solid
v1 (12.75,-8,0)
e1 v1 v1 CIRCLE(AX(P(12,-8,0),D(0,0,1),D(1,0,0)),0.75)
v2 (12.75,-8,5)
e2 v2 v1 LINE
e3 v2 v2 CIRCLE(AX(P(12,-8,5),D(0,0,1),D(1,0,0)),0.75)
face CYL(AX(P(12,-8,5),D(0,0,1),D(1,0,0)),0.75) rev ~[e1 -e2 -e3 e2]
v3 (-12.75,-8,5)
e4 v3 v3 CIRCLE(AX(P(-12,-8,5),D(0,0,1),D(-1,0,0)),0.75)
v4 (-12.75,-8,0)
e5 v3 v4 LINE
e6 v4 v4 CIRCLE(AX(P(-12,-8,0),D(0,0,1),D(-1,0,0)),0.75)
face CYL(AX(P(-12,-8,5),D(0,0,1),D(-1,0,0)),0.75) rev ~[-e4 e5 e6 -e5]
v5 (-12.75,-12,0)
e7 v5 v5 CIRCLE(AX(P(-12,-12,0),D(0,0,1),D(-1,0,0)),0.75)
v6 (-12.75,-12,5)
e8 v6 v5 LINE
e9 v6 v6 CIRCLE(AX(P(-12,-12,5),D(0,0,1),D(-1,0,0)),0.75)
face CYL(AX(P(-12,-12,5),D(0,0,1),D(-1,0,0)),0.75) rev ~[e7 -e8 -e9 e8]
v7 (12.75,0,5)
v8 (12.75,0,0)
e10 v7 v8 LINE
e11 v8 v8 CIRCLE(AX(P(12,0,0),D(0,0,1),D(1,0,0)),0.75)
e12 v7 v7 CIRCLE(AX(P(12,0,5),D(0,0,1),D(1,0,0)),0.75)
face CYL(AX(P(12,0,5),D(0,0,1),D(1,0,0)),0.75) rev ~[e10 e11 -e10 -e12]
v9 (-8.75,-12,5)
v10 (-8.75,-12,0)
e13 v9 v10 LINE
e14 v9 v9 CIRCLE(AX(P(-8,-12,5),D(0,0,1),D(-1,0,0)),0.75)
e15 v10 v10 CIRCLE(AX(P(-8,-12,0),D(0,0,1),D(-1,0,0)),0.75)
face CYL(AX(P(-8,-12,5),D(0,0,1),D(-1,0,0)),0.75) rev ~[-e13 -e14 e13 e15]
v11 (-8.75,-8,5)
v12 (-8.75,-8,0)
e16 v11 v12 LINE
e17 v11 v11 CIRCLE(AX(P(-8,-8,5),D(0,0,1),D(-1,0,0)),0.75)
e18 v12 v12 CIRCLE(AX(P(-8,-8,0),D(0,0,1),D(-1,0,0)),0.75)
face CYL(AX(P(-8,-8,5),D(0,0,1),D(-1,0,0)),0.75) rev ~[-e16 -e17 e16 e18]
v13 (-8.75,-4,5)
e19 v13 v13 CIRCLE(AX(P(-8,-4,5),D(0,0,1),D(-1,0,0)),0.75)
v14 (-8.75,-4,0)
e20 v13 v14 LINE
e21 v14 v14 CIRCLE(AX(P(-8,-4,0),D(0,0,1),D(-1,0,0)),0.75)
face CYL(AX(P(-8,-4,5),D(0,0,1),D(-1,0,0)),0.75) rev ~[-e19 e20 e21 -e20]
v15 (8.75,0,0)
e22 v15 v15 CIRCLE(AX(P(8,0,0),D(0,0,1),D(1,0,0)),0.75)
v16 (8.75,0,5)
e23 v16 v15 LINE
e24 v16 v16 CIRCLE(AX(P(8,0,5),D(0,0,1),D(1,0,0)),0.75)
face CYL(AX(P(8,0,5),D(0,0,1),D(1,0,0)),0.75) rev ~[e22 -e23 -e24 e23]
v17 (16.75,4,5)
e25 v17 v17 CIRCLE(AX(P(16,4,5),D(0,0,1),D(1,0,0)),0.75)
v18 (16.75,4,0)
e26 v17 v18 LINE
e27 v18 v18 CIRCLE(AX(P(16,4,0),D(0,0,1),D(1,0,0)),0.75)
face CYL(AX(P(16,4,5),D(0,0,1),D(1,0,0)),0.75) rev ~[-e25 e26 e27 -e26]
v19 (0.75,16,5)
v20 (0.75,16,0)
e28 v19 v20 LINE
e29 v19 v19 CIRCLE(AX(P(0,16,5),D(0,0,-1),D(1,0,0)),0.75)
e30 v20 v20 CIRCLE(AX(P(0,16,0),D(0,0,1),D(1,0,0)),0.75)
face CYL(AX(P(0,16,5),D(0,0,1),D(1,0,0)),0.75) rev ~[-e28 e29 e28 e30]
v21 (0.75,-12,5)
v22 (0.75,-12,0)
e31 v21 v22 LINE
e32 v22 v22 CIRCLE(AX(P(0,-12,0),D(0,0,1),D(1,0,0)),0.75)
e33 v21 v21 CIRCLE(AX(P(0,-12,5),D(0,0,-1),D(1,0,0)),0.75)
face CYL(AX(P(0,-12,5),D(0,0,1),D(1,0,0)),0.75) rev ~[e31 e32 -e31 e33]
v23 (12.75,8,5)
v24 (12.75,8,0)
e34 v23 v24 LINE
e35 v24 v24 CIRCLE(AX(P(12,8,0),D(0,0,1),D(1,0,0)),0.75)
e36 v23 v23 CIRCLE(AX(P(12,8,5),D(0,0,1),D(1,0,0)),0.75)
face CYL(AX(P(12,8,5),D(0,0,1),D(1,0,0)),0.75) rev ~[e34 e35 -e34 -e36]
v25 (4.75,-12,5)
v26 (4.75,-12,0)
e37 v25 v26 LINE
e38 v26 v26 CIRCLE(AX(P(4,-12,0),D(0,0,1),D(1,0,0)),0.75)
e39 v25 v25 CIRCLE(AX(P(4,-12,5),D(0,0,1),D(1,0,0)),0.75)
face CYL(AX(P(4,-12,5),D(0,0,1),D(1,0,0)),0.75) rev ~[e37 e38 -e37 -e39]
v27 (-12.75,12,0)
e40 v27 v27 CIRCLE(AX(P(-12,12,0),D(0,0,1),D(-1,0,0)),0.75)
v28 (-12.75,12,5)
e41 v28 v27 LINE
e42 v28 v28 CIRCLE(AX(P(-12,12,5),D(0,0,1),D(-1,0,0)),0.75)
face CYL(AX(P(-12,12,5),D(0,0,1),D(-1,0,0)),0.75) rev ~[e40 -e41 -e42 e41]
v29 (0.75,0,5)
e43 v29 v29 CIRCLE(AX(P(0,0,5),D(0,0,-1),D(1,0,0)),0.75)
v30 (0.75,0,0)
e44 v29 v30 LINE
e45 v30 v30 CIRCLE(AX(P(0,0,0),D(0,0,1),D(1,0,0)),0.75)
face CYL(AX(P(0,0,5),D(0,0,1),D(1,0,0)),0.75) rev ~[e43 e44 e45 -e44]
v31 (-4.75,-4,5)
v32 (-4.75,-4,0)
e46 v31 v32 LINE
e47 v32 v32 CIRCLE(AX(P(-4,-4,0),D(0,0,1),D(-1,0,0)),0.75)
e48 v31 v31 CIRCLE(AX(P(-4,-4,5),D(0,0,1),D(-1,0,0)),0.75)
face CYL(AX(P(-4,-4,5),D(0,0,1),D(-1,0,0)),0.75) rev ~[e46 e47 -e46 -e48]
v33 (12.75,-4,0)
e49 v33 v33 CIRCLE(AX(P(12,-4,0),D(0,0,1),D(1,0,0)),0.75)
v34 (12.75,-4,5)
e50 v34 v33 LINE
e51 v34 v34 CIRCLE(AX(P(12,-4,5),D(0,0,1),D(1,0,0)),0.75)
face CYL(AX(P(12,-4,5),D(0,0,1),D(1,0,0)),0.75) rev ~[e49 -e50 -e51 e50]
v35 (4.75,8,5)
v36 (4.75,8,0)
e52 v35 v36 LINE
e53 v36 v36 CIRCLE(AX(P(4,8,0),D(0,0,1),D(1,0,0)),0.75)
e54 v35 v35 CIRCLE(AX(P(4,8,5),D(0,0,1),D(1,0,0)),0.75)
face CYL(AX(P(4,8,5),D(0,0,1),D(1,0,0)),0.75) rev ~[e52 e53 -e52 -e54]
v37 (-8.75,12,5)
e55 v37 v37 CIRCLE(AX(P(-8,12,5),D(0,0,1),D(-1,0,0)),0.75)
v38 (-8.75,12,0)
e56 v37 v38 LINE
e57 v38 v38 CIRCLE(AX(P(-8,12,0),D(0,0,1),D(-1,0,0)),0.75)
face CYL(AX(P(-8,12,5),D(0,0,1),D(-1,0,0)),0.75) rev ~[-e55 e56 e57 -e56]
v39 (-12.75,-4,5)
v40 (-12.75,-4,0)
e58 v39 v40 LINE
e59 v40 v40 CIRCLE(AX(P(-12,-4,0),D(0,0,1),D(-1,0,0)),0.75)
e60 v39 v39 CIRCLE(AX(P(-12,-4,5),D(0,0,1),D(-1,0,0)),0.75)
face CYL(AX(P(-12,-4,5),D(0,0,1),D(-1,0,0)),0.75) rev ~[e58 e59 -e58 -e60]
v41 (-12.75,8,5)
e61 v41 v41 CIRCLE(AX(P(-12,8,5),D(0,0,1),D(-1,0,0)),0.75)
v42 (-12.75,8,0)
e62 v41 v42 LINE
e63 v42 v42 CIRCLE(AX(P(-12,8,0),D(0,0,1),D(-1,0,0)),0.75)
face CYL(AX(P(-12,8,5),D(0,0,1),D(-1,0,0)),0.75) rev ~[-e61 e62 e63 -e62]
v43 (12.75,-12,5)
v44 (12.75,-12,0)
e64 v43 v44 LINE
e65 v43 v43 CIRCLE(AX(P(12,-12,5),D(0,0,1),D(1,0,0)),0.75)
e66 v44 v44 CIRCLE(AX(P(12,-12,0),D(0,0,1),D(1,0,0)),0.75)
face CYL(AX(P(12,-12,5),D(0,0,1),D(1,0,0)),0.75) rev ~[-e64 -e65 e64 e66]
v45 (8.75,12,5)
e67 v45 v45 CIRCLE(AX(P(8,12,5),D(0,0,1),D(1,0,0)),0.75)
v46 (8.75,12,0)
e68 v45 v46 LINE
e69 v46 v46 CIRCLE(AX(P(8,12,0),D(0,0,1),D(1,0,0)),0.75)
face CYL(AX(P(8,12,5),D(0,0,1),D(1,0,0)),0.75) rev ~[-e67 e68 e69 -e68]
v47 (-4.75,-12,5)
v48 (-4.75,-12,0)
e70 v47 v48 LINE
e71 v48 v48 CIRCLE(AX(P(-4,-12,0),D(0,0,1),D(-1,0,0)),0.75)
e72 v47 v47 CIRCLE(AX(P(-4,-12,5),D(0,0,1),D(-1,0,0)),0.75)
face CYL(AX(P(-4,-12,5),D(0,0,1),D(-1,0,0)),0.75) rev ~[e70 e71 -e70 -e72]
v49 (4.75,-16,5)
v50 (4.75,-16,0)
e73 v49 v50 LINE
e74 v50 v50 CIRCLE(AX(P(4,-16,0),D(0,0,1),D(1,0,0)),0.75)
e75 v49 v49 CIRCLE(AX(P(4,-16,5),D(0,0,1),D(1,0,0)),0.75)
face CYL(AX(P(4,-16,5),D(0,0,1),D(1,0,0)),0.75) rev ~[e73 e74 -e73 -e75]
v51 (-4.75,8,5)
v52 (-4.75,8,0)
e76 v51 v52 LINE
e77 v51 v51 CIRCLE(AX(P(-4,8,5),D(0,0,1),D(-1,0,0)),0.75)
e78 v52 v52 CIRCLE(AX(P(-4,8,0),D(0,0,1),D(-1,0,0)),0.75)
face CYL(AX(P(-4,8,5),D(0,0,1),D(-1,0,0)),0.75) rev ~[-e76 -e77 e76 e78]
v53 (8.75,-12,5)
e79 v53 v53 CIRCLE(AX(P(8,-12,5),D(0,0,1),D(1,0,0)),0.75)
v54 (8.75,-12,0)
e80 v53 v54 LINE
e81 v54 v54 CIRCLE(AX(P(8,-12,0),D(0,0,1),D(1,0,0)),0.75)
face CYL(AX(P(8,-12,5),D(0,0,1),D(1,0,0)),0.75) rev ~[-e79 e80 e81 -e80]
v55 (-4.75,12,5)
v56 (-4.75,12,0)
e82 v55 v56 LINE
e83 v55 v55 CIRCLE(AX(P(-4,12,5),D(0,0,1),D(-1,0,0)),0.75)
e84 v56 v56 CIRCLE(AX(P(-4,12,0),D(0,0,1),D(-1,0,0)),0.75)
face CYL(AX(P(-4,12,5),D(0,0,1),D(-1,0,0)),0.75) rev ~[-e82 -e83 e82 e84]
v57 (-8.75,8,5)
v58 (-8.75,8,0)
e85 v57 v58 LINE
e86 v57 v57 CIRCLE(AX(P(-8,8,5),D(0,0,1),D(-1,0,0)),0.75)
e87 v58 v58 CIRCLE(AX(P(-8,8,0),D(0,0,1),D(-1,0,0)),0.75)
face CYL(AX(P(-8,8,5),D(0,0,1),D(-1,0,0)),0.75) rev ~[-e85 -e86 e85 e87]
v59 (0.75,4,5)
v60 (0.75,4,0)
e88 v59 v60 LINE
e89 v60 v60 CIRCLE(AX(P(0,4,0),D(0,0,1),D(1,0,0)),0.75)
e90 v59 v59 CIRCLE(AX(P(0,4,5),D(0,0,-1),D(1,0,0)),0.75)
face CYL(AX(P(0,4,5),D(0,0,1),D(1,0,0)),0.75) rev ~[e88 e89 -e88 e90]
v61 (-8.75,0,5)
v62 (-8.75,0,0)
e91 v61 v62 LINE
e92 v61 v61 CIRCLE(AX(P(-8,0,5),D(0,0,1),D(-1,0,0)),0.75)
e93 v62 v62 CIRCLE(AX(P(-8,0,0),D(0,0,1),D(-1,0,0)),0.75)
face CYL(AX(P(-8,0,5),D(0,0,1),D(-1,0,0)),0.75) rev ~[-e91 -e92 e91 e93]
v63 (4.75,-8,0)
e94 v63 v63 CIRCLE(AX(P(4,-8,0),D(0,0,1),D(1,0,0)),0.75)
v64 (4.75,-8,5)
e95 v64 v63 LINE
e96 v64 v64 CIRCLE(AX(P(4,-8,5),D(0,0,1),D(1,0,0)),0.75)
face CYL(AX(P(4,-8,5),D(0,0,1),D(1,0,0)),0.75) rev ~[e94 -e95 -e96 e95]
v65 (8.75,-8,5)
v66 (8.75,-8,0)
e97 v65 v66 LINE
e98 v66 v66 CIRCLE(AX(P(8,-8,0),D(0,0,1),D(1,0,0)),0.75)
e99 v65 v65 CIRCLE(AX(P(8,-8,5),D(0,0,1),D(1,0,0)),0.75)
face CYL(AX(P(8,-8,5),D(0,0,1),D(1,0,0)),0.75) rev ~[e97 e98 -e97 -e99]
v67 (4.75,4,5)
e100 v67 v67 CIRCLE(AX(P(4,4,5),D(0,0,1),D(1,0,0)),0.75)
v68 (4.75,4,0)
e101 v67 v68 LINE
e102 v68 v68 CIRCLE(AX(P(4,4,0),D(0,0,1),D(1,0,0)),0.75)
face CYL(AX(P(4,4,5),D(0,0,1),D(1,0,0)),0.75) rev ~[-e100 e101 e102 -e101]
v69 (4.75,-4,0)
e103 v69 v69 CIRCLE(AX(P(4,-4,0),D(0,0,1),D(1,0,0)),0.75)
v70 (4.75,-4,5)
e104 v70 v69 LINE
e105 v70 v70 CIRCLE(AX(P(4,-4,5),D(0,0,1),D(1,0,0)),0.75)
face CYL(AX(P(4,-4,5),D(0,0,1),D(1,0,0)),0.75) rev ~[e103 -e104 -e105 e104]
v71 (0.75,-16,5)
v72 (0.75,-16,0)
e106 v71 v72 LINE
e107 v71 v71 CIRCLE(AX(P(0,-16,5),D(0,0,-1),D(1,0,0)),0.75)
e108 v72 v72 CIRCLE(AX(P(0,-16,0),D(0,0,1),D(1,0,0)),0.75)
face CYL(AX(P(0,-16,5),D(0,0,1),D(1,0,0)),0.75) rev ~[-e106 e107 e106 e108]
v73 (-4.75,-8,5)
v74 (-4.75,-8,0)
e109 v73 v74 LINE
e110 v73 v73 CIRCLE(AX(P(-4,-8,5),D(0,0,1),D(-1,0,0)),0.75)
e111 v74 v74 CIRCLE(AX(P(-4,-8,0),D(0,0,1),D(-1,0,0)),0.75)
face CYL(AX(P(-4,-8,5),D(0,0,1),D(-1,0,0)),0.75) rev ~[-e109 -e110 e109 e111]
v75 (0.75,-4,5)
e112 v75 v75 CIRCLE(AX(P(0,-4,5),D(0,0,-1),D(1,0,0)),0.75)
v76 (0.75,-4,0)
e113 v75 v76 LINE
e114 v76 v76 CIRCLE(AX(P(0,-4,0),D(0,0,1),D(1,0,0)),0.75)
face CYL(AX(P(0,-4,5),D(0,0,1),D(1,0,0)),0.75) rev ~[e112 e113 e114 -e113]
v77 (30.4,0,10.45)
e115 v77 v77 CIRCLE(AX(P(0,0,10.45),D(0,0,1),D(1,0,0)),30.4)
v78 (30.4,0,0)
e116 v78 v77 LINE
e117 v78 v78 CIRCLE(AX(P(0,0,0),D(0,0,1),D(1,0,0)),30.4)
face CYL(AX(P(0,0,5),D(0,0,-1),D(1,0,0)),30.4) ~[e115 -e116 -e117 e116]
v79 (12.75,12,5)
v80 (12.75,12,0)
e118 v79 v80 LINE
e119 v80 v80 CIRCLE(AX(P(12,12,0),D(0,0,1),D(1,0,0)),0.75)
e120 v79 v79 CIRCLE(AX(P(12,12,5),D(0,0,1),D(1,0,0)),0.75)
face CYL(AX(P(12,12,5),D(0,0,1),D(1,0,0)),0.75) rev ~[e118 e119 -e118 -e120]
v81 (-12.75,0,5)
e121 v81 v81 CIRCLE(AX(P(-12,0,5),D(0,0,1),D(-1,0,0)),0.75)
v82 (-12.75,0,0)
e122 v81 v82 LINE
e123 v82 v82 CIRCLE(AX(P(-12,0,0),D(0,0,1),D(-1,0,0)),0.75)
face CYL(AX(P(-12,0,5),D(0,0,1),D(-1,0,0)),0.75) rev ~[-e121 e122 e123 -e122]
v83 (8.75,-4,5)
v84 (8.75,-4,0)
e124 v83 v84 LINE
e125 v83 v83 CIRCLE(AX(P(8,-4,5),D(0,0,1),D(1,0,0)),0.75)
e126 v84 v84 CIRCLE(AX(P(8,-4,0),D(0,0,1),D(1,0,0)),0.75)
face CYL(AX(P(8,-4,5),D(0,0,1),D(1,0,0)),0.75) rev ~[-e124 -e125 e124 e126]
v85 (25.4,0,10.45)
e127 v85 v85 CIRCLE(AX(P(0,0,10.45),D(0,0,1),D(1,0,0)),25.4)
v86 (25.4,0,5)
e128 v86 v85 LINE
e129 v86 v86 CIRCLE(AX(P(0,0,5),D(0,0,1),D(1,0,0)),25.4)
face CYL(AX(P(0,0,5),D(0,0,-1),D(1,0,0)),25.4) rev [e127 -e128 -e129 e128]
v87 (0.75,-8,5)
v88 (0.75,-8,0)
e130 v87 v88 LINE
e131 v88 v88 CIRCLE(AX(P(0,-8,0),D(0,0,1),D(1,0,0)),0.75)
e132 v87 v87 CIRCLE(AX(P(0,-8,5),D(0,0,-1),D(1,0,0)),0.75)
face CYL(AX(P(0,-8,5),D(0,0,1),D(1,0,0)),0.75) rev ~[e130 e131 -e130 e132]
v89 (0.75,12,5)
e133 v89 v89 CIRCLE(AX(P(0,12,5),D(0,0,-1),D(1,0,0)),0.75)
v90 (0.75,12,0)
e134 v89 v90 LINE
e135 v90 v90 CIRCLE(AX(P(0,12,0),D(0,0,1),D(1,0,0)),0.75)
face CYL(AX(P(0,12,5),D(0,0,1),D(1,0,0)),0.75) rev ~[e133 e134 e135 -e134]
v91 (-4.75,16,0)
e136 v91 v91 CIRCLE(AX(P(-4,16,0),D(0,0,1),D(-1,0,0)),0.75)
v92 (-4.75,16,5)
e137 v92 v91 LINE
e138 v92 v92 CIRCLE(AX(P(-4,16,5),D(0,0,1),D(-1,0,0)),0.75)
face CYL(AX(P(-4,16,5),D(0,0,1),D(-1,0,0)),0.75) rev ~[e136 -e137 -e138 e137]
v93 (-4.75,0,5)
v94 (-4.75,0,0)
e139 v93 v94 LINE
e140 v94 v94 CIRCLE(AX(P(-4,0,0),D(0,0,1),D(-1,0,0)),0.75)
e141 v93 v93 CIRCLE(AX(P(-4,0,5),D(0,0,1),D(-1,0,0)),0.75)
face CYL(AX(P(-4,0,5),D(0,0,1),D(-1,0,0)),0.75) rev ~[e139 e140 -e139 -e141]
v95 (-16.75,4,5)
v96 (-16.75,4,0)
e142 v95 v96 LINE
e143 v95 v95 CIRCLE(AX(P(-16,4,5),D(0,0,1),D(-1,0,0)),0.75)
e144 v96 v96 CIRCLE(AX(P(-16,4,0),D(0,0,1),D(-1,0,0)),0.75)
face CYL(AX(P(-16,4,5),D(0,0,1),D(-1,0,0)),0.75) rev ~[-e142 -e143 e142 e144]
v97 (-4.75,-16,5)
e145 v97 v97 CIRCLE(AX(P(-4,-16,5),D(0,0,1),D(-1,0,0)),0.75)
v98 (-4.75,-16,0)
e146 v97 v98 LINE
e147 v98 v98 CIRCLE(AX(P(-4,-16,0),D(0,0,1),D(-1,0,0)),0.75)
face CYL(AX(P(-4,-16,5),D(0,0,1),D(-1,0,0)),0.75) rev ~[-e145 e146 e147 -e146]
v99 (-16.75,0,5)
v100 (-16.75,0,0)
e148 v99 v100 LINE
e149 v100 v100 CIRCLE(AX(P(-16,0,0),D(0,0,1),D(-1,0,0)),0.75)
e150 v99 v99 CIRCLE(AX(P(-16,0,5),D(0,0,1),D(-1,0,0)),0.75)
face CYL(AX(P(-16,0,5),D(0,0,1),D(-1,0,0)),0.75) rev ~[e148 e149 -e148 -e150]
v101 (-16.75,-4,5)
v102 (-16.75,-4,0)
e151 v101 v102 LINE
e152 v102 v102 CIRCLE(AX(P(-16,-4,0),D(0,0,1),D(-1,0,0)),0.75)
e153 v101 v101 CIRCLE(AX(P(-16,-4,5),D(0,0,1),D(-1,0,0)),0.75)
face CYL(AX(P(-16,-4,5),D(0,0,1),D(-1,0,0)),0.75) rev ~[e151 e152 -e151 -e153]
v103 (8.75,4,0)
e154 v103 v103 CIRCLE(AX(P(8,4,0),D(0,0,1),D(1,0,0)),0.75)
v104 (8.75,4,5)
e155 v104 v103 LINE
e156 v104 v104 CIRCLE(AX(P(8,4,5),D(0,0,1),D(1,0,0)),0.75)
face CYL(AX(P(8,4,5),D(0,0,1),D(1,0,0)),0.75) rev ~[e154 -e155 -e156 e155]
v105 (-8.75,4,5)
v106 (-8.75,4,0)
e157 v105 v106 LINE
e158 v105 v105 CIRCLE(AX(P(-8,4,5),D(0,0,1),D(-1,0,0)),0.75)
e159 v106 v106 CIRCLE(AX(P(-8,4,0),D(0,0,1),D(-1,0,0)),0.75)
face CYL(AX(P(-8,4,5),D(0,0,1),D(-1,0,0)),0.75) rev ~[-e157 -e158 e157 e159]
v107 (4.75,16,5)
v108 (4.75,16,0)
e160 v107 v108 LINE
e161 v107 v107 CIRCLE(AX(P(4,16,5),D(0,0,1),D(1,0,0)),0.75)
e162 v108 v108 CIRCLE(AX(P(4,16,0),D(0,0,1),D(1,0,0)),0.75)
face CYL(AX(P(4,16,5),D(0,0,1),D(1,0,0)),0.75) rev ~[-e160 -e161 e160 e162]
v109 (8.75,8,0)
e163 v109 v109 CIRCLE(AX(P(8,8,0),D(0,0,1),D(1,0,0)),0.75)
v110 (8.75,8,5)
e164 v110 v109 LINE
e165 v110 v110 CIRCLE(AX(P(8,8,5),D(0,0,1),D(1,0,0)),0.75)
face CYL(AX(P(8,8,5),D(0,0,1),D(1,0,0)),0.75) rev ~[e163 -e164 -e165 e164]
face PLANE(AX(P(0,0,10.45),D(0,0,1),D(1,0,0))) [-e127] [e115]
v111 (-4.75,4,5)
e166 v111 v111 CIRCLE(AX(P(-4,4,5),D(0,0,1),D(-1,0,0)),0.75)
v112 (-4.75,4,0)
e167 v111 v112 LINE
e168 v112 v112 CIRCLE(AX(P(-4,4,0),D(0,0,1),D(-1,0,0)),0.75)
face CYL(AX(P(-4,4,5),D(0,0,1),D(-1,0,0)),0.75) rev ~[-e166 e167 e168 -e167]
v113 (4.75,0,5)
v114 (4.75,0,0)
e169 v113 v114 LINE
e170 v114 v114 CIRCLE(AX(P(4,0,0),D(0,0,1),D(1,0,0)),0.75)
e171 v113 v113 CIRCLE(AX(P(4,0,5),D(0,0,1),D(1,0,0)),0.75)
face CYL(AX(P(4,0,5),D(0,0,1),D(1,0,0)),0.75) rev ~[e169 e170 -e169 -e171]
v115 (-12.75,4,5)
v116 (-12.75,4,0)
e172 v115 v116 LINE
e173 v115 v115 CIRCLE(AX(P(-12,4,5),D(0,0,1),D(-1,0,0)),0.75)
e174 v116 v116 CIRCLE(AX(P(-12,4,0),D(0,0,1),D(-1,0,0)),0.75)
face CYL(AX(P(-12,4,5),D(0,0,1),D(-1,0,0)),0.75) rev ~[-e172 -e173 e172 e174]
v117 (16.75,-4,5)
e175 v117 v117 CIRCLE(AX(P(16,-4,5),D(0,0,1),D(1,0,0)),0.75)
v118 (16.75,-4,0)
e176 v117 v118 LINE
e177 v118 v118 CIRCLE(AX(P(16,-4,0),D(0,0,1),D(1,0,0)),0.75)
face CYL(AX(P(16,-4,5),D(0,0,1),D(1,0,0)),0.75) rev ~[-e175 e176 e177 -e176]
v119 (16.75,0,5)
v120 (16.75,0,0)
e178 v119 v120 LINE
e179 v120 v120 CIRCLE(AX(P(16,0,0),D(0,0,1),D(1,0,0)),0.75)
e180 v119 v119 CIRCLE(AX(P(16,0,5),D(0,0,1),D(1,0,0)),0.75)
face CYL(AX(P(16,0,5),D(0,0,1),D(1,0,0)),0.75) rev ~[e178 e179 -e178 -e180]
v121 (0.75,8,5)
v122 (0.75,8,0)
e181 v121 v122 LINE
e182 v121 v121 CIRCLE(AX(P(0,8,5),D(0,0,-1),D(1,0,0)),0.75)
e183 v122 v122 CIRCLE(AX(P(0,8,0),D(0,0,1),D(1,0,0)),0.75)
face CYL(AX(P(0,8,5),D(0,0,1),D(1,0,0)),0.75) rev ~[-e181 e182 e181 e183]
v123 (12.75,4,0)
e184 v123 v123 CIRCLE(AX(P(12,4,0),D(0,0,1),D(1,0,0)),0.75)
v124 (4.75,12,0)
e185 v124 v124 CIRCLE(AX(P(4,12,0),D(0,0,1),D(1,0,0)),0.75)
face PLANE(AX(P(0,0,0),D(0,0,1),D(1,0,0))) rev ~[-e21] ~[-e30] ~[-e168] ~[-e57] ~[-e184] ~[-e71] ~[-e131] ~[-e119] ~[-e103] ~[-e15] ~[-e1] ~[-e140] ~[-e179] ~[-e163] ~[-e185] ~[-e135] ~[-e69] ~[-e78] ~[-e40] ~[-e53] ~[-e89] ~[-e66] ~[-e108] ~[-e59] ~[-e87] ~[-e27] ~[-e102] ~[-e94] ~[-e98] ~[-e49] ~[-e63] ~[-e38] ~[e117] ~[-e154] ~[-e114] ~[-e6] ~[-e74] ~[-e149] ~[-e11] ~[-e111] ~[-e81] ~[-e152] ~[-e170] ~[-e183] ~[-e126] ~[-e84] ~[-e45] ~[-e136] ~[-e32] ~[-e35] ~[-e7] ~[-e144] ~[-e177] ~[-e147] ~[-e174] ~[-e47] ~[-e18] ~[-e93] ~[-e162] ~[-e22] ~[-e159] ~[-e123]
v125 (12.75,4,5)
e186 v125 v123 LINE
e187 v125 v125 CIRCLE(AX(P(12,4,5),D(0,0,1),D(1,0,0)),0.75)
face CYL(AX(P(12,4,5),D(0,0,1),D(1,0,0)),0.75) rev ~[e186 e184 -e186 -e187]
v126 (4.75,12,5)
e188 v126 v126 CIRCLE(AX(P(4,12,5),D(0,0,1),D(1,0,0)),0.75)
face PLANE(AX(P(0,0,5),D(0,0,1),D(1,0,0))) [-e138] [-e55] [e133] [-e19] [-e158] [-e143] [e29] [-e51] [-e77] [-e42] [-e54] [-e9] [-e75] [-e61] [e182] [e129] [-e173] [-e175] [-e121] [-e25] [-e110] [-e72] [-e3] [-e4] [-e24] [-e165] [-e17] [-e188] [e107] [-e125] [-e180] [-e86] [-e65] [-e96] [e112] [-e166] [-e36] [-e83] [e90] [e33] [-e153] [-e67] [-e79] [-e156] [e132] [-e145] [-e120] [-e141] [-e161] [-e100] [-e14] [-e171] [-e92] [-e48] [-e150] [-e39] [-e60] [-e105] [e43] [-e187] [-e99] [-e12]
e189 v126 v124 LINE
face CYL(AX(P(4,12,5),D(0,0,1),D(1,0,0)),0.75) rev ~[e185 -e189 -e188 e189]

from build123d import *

# Parameters (mm, degrees)
SKETCH1_R                                  = 30.4
BOSS_EXTRUDE1_DEPTH                        = 5
SKETCH2_R                                  = 0.75
CUT_EXTRUDE1_DEPTH                         = 44.281866873
LPATTERN1_COUNT                            = 5
LPATTERN1_PITCH                            = 4
LPATTERN1_COUNT_DIR2                       = 5
LPATTERN1_PITCH_DIR2                       = 4
MIRROR1_COPY_1_SKETCH_R                    = 0.75
MIRROR1_COPY_1_DEPTH                       = 44.281866873
MIRROR1_COPY_2_SKETCH_R                    = 0.75
MIRROR1_COPY_2_DEPTH                       = 44.281866873
MIRROR1_COPY_3_SKETCH_R                    = 0.75
MIRROR1_COPY_3_DEPTH                       = 44.281866873
MIRROR1_COPY_4_SKETCH_R                    = 0.75
MIRROR1_COPY_4_DEPTH                       = 44.281866873
MIRROR1_COPY_5_SKETCH_R                    = 0.75
MIRROR1_COPY_5_DEPTH                       = 44.281866873
MIRROR1_COPY_6_SKETCH_R                    = 0.75
MIRROR1_COPY_6_DEPTH                       = 44.281866873
MIRROR1_COPY_7_SKETCH_R                    = 0.75
MIRROR1_COPY_7_DEPTH                       = 44.281866873
MIRROR1_COPY_8_SKETCH_R                    = 0.75
MIRROR1_COPY_8_DEPTH                       = 44.281866873
MIRROR1_COPY_9_SKETCH_R                    = 0.75
MIRROR1_COPY_9_DEPTH                       = 44.281866873
MIRROR1_COPY_10_SKETCH_R                   = 0.75
MIRROR1_COPY_10_DEPTH                      = 44.281866873
MIRROR1_COPY_11_SKETCH_R                   = 0.75
MIRROR1_COPY_11_DEPTH                      = 44.281866873
MIRROR1_COPY_12_SKETCH_R                   = 0.75
MIRROR1_COPY_12_DEPTH                      = 44.281866873
MIRROR1_COPY_13_SKETCH_R                   = 0.75
MIRROR1_COPY_13_DEPTH                      = 44.281866873
MIRROR1_COPY_14_SKETCH_R                   = 0.75
MIRROR1_COPY_14_DEPTH                      = 44.281866873
MIRROR1_COPY_15_SKETCH_R                   = 0.75
MIRROR1_COPY_15_DEPTH                      = 44.281866873
MIRROR1_COPY_16_SKETCH_R                   = 0.75
MIRROR1_COPY_16_DEPTH                      = 44.281866873
MIRROR1_COPY_17_SKETCH_R                   = 0.75
MIRROR1_COPY_17_DEPTH                      = 44.281866873
MIRROR1_COPY_18_SKETCH_R                   = 0.75
MIRROR1_COPY_18_DEPTH                      = 44.281866873
MIRROR1_COPY_19_SKETCH_R                   = 0.75
MIRROR1_COPY_19_DEPTH                      = 44.281866873
MIRROR1_COPY_20_SKETCH_R                   = 0.75
MIRROR1_COPY_20_DEPTH                      = 44.281866873
MIRROR1_AT_THE_SECOND_PLANE_COPY_1_SKETC_R = 0.75
MIRROR1_AT_THE_SECOND_PLANE_COPY_1_DEPTH   = 44.281866873
MIRROR1_AT_THE_SECOND_PLANE_COPY_2_SKETC_R = 0.75
MIRROR1_AT_THE_SECOND_PLANE_COPY_2_DEPTH   = 44.281866873
MIRROR1_AT_THE_SECOND_PLANE_COPY_3_SKETC_R = 0.75
MIRROR1_AT_THE_SECOND_PLANE_COPY_3_DEPTH   = 44.281866873
MIRROR1_AT_THE_SECOND_PLANE_COPY_4_SKETC_R = 0.75
MIRROR1_AT_THE_SECOND_PLANE_COPY_4_DEPTH   = 44.281866873
MIRROR1_AT_THE_SECOND_PLANE_COPY_5_SKETC_R = 0.75
MIRROR1_AT_THE_SECOND_PLANE_COPY_5_DEPTH   = 44.281866873
MIRROR1_AT_THE_SECOND_PLANE_COPY_6_SKETC_R = 0.75
MIRROR1_AT_THE_SECOND_PLANE_COPY_6_DEPTH   = 44.281866873
MIRROR1_AT_THE_SECOND_PLANE_COPY_7_SKETC_R = 0.75
MIRROR1_AT_THE_SECOND_PLANE_COPY_7_DEPTH   = 44.281866873
MIRROR1_AT_THE_SECOND_PLANE_COPY_8_SKETC_R = 0.75
MIRROR1_AT_THE_SECOND_PLANE_COPY_8_DEPTH   = 44.281866873
MIRROR1_AT_THE_SECOND_PLANE_COPY_9_SKETC_R = 0.75
MIRROR1_AT_THE_SECOND_PLANE_COPY_9_DEPTH   = 44.281866873
MIRROR1_AT_THE_SECOND_PLANE_COPY_10_SKET_R = 0.75
MIRROR1_AT_THE_SECOND_PLANE_COPY_10_DEPTH  = 44.281866873
MIRROR1_AT_THE_SECOND_PLANE_COPY_11_SKET_R = 0.75
MIRROR1_AT_THE_SECOND_PLANE_COPY_11_DEPTH  = 44.281866873
MIRROR1_AT_THE_SECOND_PLANE_COPY_12_SKET_R = 0.75
MIRROR1_AT_THE_SECOND_PLANE_COPY_12_DEPTH  = 44.281866873
MIRROR1_AT_THE_SECOND_PLANE_COPY_13_SKET_R = 0.75
MIRROR1_AT_THE_SECOND_PLANE_COPY_13_DEPTH  = 44.281866873
MIRROR1_AT_THE_SECOND_PLANE_COPY_14_SKET_R = 0.75
MIRROR1_AT_THE_SECOND_PLANE_COPY_14_DEPTH  = 44.281866873
MIRROR1_AT_THE_SECOND_PLANE_COPY_15_SKET_R = 0.75
MIRROR1_AT_THE_SECOND_PLANE_COPY_15_DEPTH  = 44.281866873
MIRROR1_AT_THE_SECOND_PLANE_COPY_16_SKET_R = 0.75
MIRROR1_AT_THE_SECOND_PLANE_COPY_16_DEPTH  = 44.281866873
MIRROR1_AT_THE_SECOND_PLANE_COPY_17_SKET_R = 0.75
MIRROR1_AT_THE_SECOND_PLANE_COPY_17_DEPTH  = 44.281866873
MIRROR1_AT_THE_SECOND_PLANE_COPY_18_SKET_R = 0.75
MIRROR1_AT_THE_SECOND_PLANE_COPY_18_DEPTH  = 44.281866873
MIRROR1_AT_THE_SECOND_PLANE_COPY_19_SKET_R = 0.75
MIRROR1_AT_THE_SECOND_PLANE_COPY_19_DEPTH  = 44.281866873
MIRROR1_AT_THE_SECOND_PLANE_COPY_20_SKET_R = 0.75
MIRROR1_AT_THE_SECOND_PLANE_COPY_20_DEPTH  = 44.281866873
MIRROR1_AT_THE_SECOND_PLANE_COPY_21_SKET_R = 0.75
MIRROR1_AT_THE_SECOND_PLANE_COPY_21_DEPTH  = 44.281866873
MIRROR1_AT_THE_SECOND_PLANE_COPY_22_SKET_R = 0.75
MIRROR1_AT_THE_SECOND_PLANE_COPY_22_DEPTH  = 44.281866873
MIRROR1_AT_THE_SECOND_PLANE_COPY_23_SKET_R = 0.75
MIRROR1_AT_THE_SECOND_PLANE_COPY_23_DEPTH  = 44.281866873
MIRROR1_AT_THE_SECOND_PLANE_COPY_24_SKET_R = 0.75
MIRROR1_AT_THE_SECOND_PLANE_COPY_24_DEPTH  = 44.281866873
MIRROR1_AT_THE_SECOND_PLANE_COPY_25_SKET_R = 0.75
MIRROR1_AT_THE_SECOND_PLANE_COPY_25_DEPTH  = 44.281866873
MIRROR1_AT_THE_SECOND_PLANE_COPY_26_SKET_R = 0.75
MIRROR1_AT_THE_SECOND_PLANE_COPY_26_DEPTH  = 44.281866873
MIRROR1_AT_THE_SECOND_PLANE_COPY_27_SKET_R = 0.75
MIRROR1_AT_THE_SECOND_PLANE_COPY_27_DEPTH  = 44.281866873
MIRROR1_AT_THE_SECOND_PLANE_COPY_28_SKET_R = 0.75
MIRROR1_AT_THE_SECOND_PLANE_COPY_28_DEPTH  = 44.281866873
MIRROR1_AT_THE_SECOND_PLANE_COPY_29_SKET_R = 0.75
MIRROR1_AT_THE_SECOND_PLANE_COPY_29_DEPTH  = 44.281866873
MIRROR1_AT_THE_SECOND_PLANE_COPY_30_SKET_R = 0.75
MIRROR1_AT_THE_SECOND_PLANE_COPY_30_DEPTH  = 44.281866873
MIRROR1_AT_THE_SECOND_PLANE_COPY_31_SKET_R = 0.75
MIRROR1_AT_THE_SECOND_PLANE_COPY_31_DEPTH  = 44.281866873
MIRROR1_AT_THE_SECOND_PLANE_COPY_32_SKET_R = 0.75
MIRROR1_AT_THE_SECOND_PLANE_COPY_32_DEPTH  = 44.281866873
MIRROR1_AT_THE_SECOND_PLANE_COPY_33_SKET_R = 0.75
MIRROR1_AT_THE_SECOND_PLANE_COPY_33_DEPTH  = 44.281866873
MIRROR1_AT_THE_SECOND_PLANE_COPY_34_SKET_R = 0.75
MIRROR1_AT_THE_SECOND_PLANE_COPY_34_DEPTH  = 44.281866873
MIRROR1_AT_THE_SECOND_PLANE_COPY_35_SKET_R = 0.75
MIRROR1_AT_THE_SECOND_PLANE_COPY_35_DEPTH  = 44.281866873
MIRROR1_AT_THE_SECOND_PLANE_COPY_36_SKET_R = 0.75
MIRROR1_AT_THE_SECOND_PLANE_COPY_36_DEPTH  = 44.281866873
MIRROR1_AT_THE_SECOND_PLANE_COPY_37_SKET_R = 0.75
MIRROR1_AT_THE_SECOND_PLANE_COPY_37_DEPTH  = 44.281866873
MIRROR1_AT_THE_SECOND_PLANE_COPY_38_SKET_R = 0.75
MIRROR1_AT_THE_SECOND_PLANE_COPY_38_DEPTH  = 44.281866873
MIRROR1_AT_THE_SECOND_PLANE_COPY_39_SKET_R = 0.75
MIRROR1_AT_THE_SECOND_PLANE_COPY_39_DEPTH  = 44.281866873
MIRROR1_AT_THE_SECOND_PLANE_COPY_40_SKET_R = 0.75
MIRROR1_AT_THE_SECOND_PLANE_COPY_40_DEPTH  = 44.281866873
MIRROR1_AT_THE_SECOND_PLANE_COPY_41_SKET_R = 0.75
MIRROR1_AT_THE_SECOND_PLANE_COPY_41_DEPTH  = 44.281866873
SKETCH16_R                                 = 30.4
SKETCH16_R_2                               = 25.4
BOSS_EXTRUDE2_DEPTH                        = 5.45


with BuildPart() as part:
    # Sketch1 → Boss-Extrude1 (new body)
    with BuildSketch(Plane.XY):
        Circle(SKETCH1_R)
    extrude(amount=BOSS_EXTRUDE1_DEPTH)

    # Sketch2 → Cut-Extrude1 (cut, through all)
    with BuildSketch(Plane.XY.offset(5)):
        Circle(SKETCH2_R)
    cut_extrude1 = extrude(amount=-CUT_EXTRUDE1_DEPTH, mode=Mode.SUBTRACT)

    # LPattern1: Cut-Extrude1 5 × 5, 5 skipped
    with Locations(*[(j * LPATTERN1_PITCH_DIR2, i * LPATTERN1_PITCH, 0) for i in range(LPATTERN1_COUNT) for j in range(LPATTERN1_COUNT_DIR2) if (i, j) not in ((0, 0), (2, 4), (3, 4), (4, 2), (4, 3), (4, 4))]):
        add(cut_extrude1, mode=Mode.SUBTRACT)

    # Mirror1 copy 1 sketch → Mirror1 copy 1 (cut, through all)
    with BuildSketch(Plane(origin=(-4, 0, 5), x_dir=(-1, 0, 0), z_dir=(0, 0, 1))):
        Circle(MIRROR1_COPY_1_SKETCH_R)
    extrude(amount=-MIRROR1_COPY_1_DEPTH, mode=Mode.SUBTRACT)

    # Mirror1 copy 2 sketch → Mirror1 copy 2 (cut, through all)
    with BuildSketch(Plane(origin=(-8, 0, 5), x_dir=(-1, 0, 0), z_dir=(0, 0, 1))):
        Circle(MIRROR1_COPY_2_SKETCH_R)
    extrude(amount=-MIRROR1_COPY_2_DEPTH, mode=Mode.SUBTRACT)

    # Mirror1 copy 3 sketch → Mirror1 copy 3 (cut, through all)
    with BuildSketch(Plane(origin=(-12, 0, 5), x_dir=(-1, 0, 0), z_dir=(0, 0, 1))):
        Circle(MIRROR1_COPY_3_SKETCH_R)
    extrude(amount=-MIRROR1_COPY_3_DEPTH, mode=Mode.SUBTRACT)

    # Mirror1 copy 4 sketch → Mirror1 copy 4 (cut, through all)
    with BuildSketch(Plane(origin=(-16, 0, 5), x_dir=(-1, 0, 0), z_dir=(0, 0, 1))):
        Circle(MIRROR1_COPY_4_SKETCH_R)
    extrude(amount=-MIRROR1_COPY_4_DEPTH, mode=Mode.SUBTRACT)

    # Mirror1 copy 5 sketch → Mirror1 copy 5 (cut, through all)
    with BuildSketch(Plane(origin=(0, 4, 5), x_dir=(-1, 0, 0), z_dir=(0, 0, 1))):
        Circle(MIRROR1_COPY_5_SKETCH_R)
    extrude(amount=-MIRROR1_COPY_5_DEPTH, mode=Mode.SUBTRACT)

    # Mirror1 copy 6 sketch → Mirror1 copy 6 (cut, through all)
    with BuildSketch(Plane(origin=(-4, 4, 5), x_dir=(-1, 0, 0), z_dir=(0, 0, 1))):
        Circle(MIRROR1_COPY_6_SKETCH_R)
    extrude(amount=-MIRROR1_COPY_6_DEPTH, mode=Mode.SUBTRACT)

    # Mirror1 copy 7 sketch → Mirror1 copy 7 (cut, through all)
    with BuildSketch(Plane(origin=(-8, 4, 5), x_dir=(-1, 0, 0), z_dir=(0, 0, 1))):
        Circle(MIRROR1_COPY_7_SKETCH_R)
    extrude(amount=-MIRROR1_COPY_7_DEPTH, mode=Mode.SUBTRACT)

    # Mirror1 copy 8 sketch → Mirror1 copy 8 (cut, through all)
    with BuildSketch(Plane(origin=(-12, 4, 5), x_dir=(-1, 0, 0), z_dir=(0, 0, 1))):
        Circle(MIRROR1_COPY_8_SKETCH_R)
    extrude(amount=-MIRROR1_COPY_8_DEPTH, mode=Mode.SUBTRACT)

    # Mirror1 copy 9 sketch → Mirror1 copy 9 (cut, through all)
    with BuildSketch(Plane(origin=(-16, 4, 5), x_dir=(-1, 0, 0), z_dir=(0, 0, 1))):
        Circle(MIRROR1_COPY_9_SKETCH_R)
    extrude(amount=-MIRROR1_COPY_9_DEPTH, mode=Mode.SUBTRACT)

    # Mirror1 copy 10 sketch → Mirror1 copy 10 (cut, through all)
    with BuildSketch(Plane(origin=(0, 8, 5), x_dir=(-1, 0, 0), z_dir=(0, 0, 1))):
        Circle(MIRROR1_COPY_10_SKETCH_R)
    extrude(amount=-MIRROR1_COPY_10_DEPTH, mode=Mode.SUBTRACT)

    # Mirror1 copy 11 sketch → Mirror1 copy 11 (cut, through all)
    with BuildSketch(Plane(origin=(-4, 8, 5), x_dir=(-1, 0, 0), z_dir=(0, 0, 1))):
        Circle(MIRROR1_COPY_11_SKETCH_R)
    extrude(amount=-MIRROR1_COPY_11_DEPTH, mode=Mode.SUBTRACT)

    # Mirror1 copy 12 sketch → Mirror1 copy 12 (cut, through all)
    with BuildSketch(Plane(origin=(-8, 8, 5), x_dir=(-1, 0, 0), z_dir=(0, 0, 1))):
        Circle(MIRROR1_COPY_12_SKETCH_R)
    extrude(amount=-MIRROR1_COPY_12_DEPTH, mode=Mode.SUBTRACT)

    # Mirror1 copy 13 sketch → Mirror1 copy 13 (cut, through all)
    with BuildSketch(Plane(origin=(-12, 8, 5), x_dir=(-1, 0, 0), z_dir=(0, 0, 1))):
        Circle(MIRROR1_COPY_13_SKETCH_R)
    extrude(amount=-MIRROR1_COPY_13_DEPTH, mode=Mode.SUBTRACT)

    # Mirror1 copy 14 sketch → Mirror1 copy 14 (cut, through all)
    with BuildSketch(Plane(origin=(0, 12, 5), x_dir=(-1, 0, 0), z_dir=(0, 0, 1))):
        Circle(MIRROR1_COPY_14_SKETCH_R)
    extrude(amount=-MIRROR1_COPY_14_DEPTH, mode=Mode.SUBTRACT)

    # Mirror1 copy 15 sketch → Mirror1 copy 15 (cut, through all)
    with BuildSketch(Plane(origin=(-4, 12, 5), x_dir=(-1, 0, 0), z_dir=(0, 0, 1))):
        Circle(MIRROR1_COPY_15_SKETCH_R)
    extrude(amount=-MIRROR1_COPY_15_DEPTH, mode=Mode.SUBTRACT)

    # Mirror1 copy 16 sketch → Mirror1 copy 16 (cut, through all)
    with BuildSketch(Plane(origin=(-8, 12, 5), x_dir=(-1, 0, 0), z_dir=(0, 0, 1))):
        Circle(MIRROR1_COPY_16_SKETCH_R)
    extrude(amount=-MIRROR1_COPY_16_DEPTH, mode=Mode.SUBTRACT)

    # Mirror1 copy 17 sketch → Mirror1 copy 17 (cut, through all)
    with BuildSketch(Plane(origin=(-12, 12, 5), x_dir=(-1, 0, 0), z_dir=(0, 0, 1))):
        Circle(MIRROR1_COPY_17_SKETCH_R)
    extrude(amount=-MIRROR1_COPY_17_DEPTH, mode=Mode.SUBTRACT)

    # Mirror1 copy 18 sketch → Mirror1 copy 18 (cut, through all)
    with BuildSketch(Plane(origin=(0, 16, 5), x_dir=(-1, 0, 0), z_dir=(0, 0, 1))):
        Circle(MIRROR1_COPY_18_SKETCH_R)
    extrude(amount=-MIRROR1_COPY_18_DEPTH, mode=Mode.SUBTRACT)

    # Mirror1 copy 19 sketch → Mirror1 copy 19 (cut, through all)
    with BuildSketch(Plane(origin=(-4, 16, 5), x_dir=(-1, 0, 0), z_dir=(0, 0, 1))):
        Circle(MIRROR1_COPY_19_SKETCH_R)
    extrude(amount=-MIRROR1_COPY_19_DEPTH, mode=Mode.SUBTRACT)

    # Mirror1 copy 20 sketch → Mirror1 copy 20 (cut, through all)
    with BuildSketch(Plane(origin=(0, 0, 5), x_dir=(-1, 0, 0), z_dir=(0, 0, 1))):
        Circle(MIRROR1_COPY_20_SKETCH_R)
    extrude(amount=-MIRROR1_COPY_20_DEPTH, mode=Mode.SUBTRACT)

    # Mirror1 at the second plane copy 1 sketc → Mirror1 at the second plane copy 1 (cut, through all)
    with BuildSketch(Plane(origin=(4, 0, 5), x_dir=(1, 0, 0), z_dir=(0, 0, 1))):
        Circle(MIRROR1_AT_THE_SECOND_PLANE_COPY_1_SKETC_R)
    extrude(amount=-MIRROR1_AT_THE_SECOND_PLANE_COPY_1_DEPTH, mode=Mode.SUBTRACT)

    # Mirror1 at the second plane copy 2 sketc → Mirror1 at the second plane copy 2 (cut, through all)
    with BuildSketch(Plane(origin=(8, 0, 5), x_dir=(1, 0, 0), z_dir=(0, 0, 1))):
        Circle(MIRROR1_AT_THE_SECOND_PLANE_COPY_2_SKETC_R)
    extrude(amount=-MIRROR1_AT_THE_SECOND_PLANE_COPY_2_DEPTH, mode=Mode.SUBTRACT)

    # Mirror1 at the second plane copy 3 sketc → Mirror1 at the second plane copy 3 (cut, through all)
    with BuildSketch(Plane(origin=(12, 0, 5), x_dir=(1, 0, 0), z_dir=(0, 0, 1))):
        Circle(MIRROR1_AT_THE_SECOND_PLANE_COPY_3_SKETC_R)
    extrude(amount=-MIRROR1_AT_THE_SECOND_PLANE_COPY_3_DEPTH, mode=Mode.SUBTRACT)

    # Mirror1 at the second plane copy 4 sketc → Mirror1 at the second plane copy 4 (cut, through all)
    with BuildSketch(Plane(origin=(16, 0, 5), x_dir=(1, 0, 0), z_dir=(0, 0, 1))):
        Circle(MIRROR1_AT_THE_SECOND_PLANE_COPY_4_SKETC_R)
    extrude(amount=-MIRROR1_AT_THE_SECOND_PLANE_COPY_4_DEPTH, mode=Mode.SUBTRACT)

    # Mirror1 at the second plane copy 5 sketc → Mirror1 at the second plane copy 5 (cut, through all)
    with BuildSketch(Plane(origin=(0, -4, 5), x_dir=(1, 0, 0), z_dir=(0, 0, 1))):
        Circle(MIRROR1_AT_THE_SECOND_PLANE_COPY_5_SKETC_R)
    extrude(amount=-MIRROR1_AT_THE_SECOND_PLANE_COPY_5_DEPTH, mode=Mode.SUBTRACT)

    # Mirror1 at the second plane copy 6 sketc → Mirror1 at the second plane copy 6 (cut, through all)
    with BuildSketch(Plane(origin=(4, -4, 5), x_dir=(1, 0, 0), z_dir=(0, 0, 1))):
        Circle(MIRROR1_AT_THE_SECOND_PLANE_COPY_6_SKETC_R)
    extrude(amount=-MIRROR1_AT_THE_SECOND_PLANE_COPY_6_DEPTH, mode=Mode.SUBTRACT)

    # Mirror1 at the second plane copy 7 sketc → Mirror1 at the second plane copy 7 (cut, through all)
    with BuildSketch(Plane(origin=(8, -4, 5), x_dir=(1, 0, 0), z_dir=(0, 0, 1))):
        Circle(MIRROR1_AT_THE_SECOND_PLANE_COPY_7_SKETC_R)
    extrude(amount=-MIRROR1_AT_THE_SECOND_PLANE_COPY_7_DEPTH, mode=Mode.SUBTRACT)

    # Mirror1 at the second plane copy 8 sketc → Mirror1 at the second plane copy 8 (cut, through all)
    with BuildSketch(Plane(origin=(12, -4, 5), x_dir=(1, 0, 0), z_dir=(0, 0, 1))):
        Circle(MIRROR1_AT_THE_SECOND_PLANE_COPY_8_SKETC_R)
    extrude(amount=-MIRROR1_AT_THE_SECOND_PLANE_COPY_8_DEPTH, mode=Mode.SUBTRACT)

    # Mirror1 at the second plane copy 9 sketc → Mirror1 at the second plane copy 9 (cut, through all)
    with BuildSketch(Plane(origin=(16, -4, 5), x_dir=(1, 0, 0), z_dir=(0, 0, 1))):
        Circle(MIRROR1_AT_THE_SECOND_PLANE_COPY_9_SKETC_R)
    extrude(amount=-MIRROR1_AT_THE_SECOND_PLANE_COPY_9_DEPTH, mode=Mode.SUBTRACT)

    # Mirror1 at the second plane copy 10 sket → Mirror1 at the second plane copy 10 (cut, through all)
    with BuildSketch(Plane(origin=(0, -8, 5), x_dir=(1, 0, 0), z_dir=(0, 0, 1))):
        Circle(MIRROR1_AT_THE_SECOND_PLANE_COPY_10_SKET_R)
    extrude(amount=-MIRROR1_AT_THE_SECOND_PLANE_COPY_10_DEPTH, mode=Mode.SUBTRACT)

    # Mirror1 at the second plane copy 11 sket → Mirror1 at the second plane copy 11 (cut, through all)
    with BuildSketch(Plane(origin=(4, -8, 5), x_dir=(1, 0, 0), z_dir=(0, 0, 1))):
        Circle(MIRROR1_AT_THE_SECOND_PLANE_COPY_11_SKET_R)
    extrude(amount=-MIRROR1_AT_THE_SECOND_PLANE_COPY_11_DEPTH, mode=Mode.SUBTRACT)

    # Mirror1 at the second plane copy 12 sket → Mirror1 at the second plane copy 12 (cut, through all)
    with BuildSketch(Plane(origin=(8, -8, 5), x_dir=(1, 0, 0), z_dir=(0, 0, 1))):
        Circle(MIRROR1_AT_THE_SECOND_PLANE_COPY_12_SKET_R)
    extrude(amount=-MIRROR1_AT_THE_SECOND_PLANE_COPY_12_DEPTH, mode=Mode.SUBTRACT)

    # Mirror1 at the second plane copy 13 sket → Mirror1 at the second plane copy 13 (cut, through all)
    with BuildSketch(Plane(origin=(12, -8, 5), x_dir=(1, 0, 0), z_dir=(0, 0, 1))):
        Circle(MIRROR1_AT_THE_SECOND_PLANE_COPY_13_SKET_R)
    extrude(amount=-MIRROR1_AT_THE_SECOND_PLANE_COPY_13_DEPTH, mode=Mode.SUBTRACT)

    # Mirror1 at the second plane copy 14 sket → Mirror1 at the second plane copy 14 (cut, through all)
    with BuildSketch(Plane(origin=(0, -12, 5), x_dir=(1, 0, 0), z_dir=(0, 0, 1))):
        Circle(MIRROR1_AT_THE_SECOND_PLANE_COPY_14_SKET_R)
    extrude(amount=-MIRROR1_AT_THE_SECOND_PLANE_COPY_14_DEPTH, mode=Mode.SUBTRACT)

    # Mirror1 at the second plane copy 15 sket → Mirror1 at the second plane copy 15 (cut, through all)
    with BuildSketch(Plane(origin=(4, -12, 5), x_dir=(1, 0, 0), z_dir=(0, 0, 1))):
        Circle(MIRROR1_AT_THE_SECOND_PLANE_COPY_15_SKET_R)
    extrude(amount=-MIRROR1_AT_THE_SECOND_PLANE_COPY_15_DEPTH, mode=Mode.SUBTRACT)

    # Mirror1 at the second plane copy 16 sket → Mirror1 at the second plane copy 16 (cut, through all)
    with BuildSketch(Plane(origin=(8, -12, 5), x_dir=(1, 0, 0), z_dir=(0, 0, 1))):
        Circle(MIRROR1_AT_THE_SECOND_PLANE_COPY_16_SKET_R)
    extrude(amount=-MIRROR1_AT_THE_SECOND_PLANE_COPY_16_DEPTH, mode=Mode.SUBTRACT)

    # Mirror1 at the second plane copy 17 sket → Mirror1 at the second plane copy 17 (cut, through all)
    with BuildSketch(Plane(origin=(12, -12, 5), x_dir=(1, 0, 0), z_dir=(0, 0, 1))):
        Circle(MIRROR1_AT_THE_SECOND_PLANE_COPY_17_SKET_R)
    extrude(amount=-MIRROR1_AT_THE_SECOND_PLANE_COPY_17_DEPTH, mode=Mode.SUBTRACT)

    # Mirror1 at the second plane copy 18 sket → Mirror1 at the second plane copy 18 (cut, through all)
    with BuildSketch(Plane(origin=(0, -16, 5), x_dir=(1, 0, 0), z_dir=(0, 0, 1))):
        Circle(MIRROR1_AT_THE_SECOND_PLANE_COPY_18_SKET_R)
    extrude(amount=-MIRROR1_AT_THE_SECOND_PLANE_COPY_18_DEPTH, mode=Mode.SUBTRACT)

    # Mirror1 at the second plane copy 19 sket → Mirror1 at the second plane copy 19 (cut, through all)
    with BuildSketch(Plane(origin=(4, -16, 5), x_dir=(1, 0, 0), z_dir=(0, 0, 1))):
        Circle(MIRROR1_AT_THE_SECOND_PLANE_COPY_19_SKET_R)
    extrude(amount=-MIRROR1_AT_THE_SECOND_PLANE_COPY_19_DEPTH, mode=Mode.SUBTRACT)

    # Mirror1 at the second plane copy 20 sket → Mirror1 at the second plane copy 20 (cut, through all)
    with BuildSketch(Plane.XY.offset(5)):
        Circle(MIRROR1_AT_THE_SECOND_PLANE_COPY_20_SKET_R)
    extrude(amount=-MIRROR1_AT_THE_SECOND_PLANE_COPY_20_DEPTH, mode=Mode.SUBTRACT)

    # Mirror1 at the second plane copy 21 sket → Mirror1 at the second plane copy 21 (cut, through all)
    with BuildSketch(Plane(origin=(-4, 0, 5), x_dir=(-1, 0, 0), z_dir=(0, 0, 1))):
        Circle(MIRROR1_AT_THE_SECOND_PLANE_COPY_21_SKET_R)
    extrude(amount=-MIRROR1_AT_THE_SECOND_PLANE_COPY_21_DEPTH, mode=Mode.SUBTRACT)

    # Mirror1 at the second plane copy 22 sket → Mirror1 at the second plane copy 22 (cut, through all)
    with BuildSketch(Plane(origin=(-8, 0, 5), x_dir=(-1, 0, 0), z_dir=(0, 0, 1))):
        Circle(MIRROR1_AT_THE_SECOND_PLANE_COPY_22_SKET_R)
    extrude(amount=-MIRROR1_AT_THE_SECOND_PLANE_COPY_22_DEPTH, mode=Mode.SUBTRACT)

    # Mirror1 at the second plane copy 23 sket → Mirror1 at the second plane copy 23 (cut, through all)
    with BuildSketch(Plane(origin=(-12, 0, 5), x_dir=(-1, 0, 0), z_dir=(0, 0, 1))):
        Circle(MIRROR1_AT_THE_SECOND_PLANE_COPY_23_SKET_R)
    extrude(amount=-MIRROR1_AT_THE_SECOND_PLANE_COPY_23_DEPTH, mode=Mode.SUBTRACT)

    # Mirror1 at the second plane copy 24 sket → Mirror1 at the second plane copy 24 (cut, through all)
    with BuildSketch(Plane(origin=(-16, 0, 5), x_dir=(-1, 0, 0), z_dir=(0, 0, 1))):
        Circle(MIRROR1_AT_THE_SECOND_PLANE_COPY_24_SKET_R)
    extrude(amount=-MIRROR1_AT_THE_SECOND_PLANE_COPY_24_DEPTH, mode=Mode.SUBTRACT)

    # Mirror1 at the second plane copy 25 sket → Mirror1 at the second plane copy 25 (cut, through all)
    with BuildSketch(Plane(origin=(0, -4, 5), x_dir=(-1, 0, 0), z_dir=(0, 0, 1))):
        Circle(MIRROR1_AT_THE_SECOND_PLANE_COPY_25_SKET_R)
    extrude(amount=-MIRROR1_AT_THE_SECOND_PLANE_COPY_25_DEPTH, mode=Mode.SUBTRACT)

    # Mirror1 at the second plane copy 26 sket → Mirror1 at the second plane copy 26 (cut, through all)
    with BuildSketch(Plane(origin=(-4, -4, 5), x_dir=(-1, 0, 0), z_dir=(0, 0, 1))):
        Circle(MIRROR1_AT_THE_SECOND_PLANE_COPY_26_SKET_R)
    extrude(amount=-MIRROR1_AT_THE_SECOND_PLANE_COPY_26_DEPTH, mode=Mode.SUBTRACT)

    # Mirror1 at the second plane copy 27 sket → Mirror1 at the second plane copy 27 (cut, through all)
    with BuildSketch(Plane(origin=(-8, -4, 5), x_dir=(-1, 0, 0), z_dir=(0, 0, 1))):
        Circle(MIRROR1_AT_THE_SECOND_PLANE_COPY_27_SKET_R)
    extrude(amount=-MIRROR1_AT_THE_SECOND_PLANE_COPY_27_DEPTH, mode=Mode.SUBTRACT)

    # Mirror1 at the second plane copy 28 sket → Mirror1 at the second plane copy 28 (cut, through all)
    with BuildSketch(Plane(origin=(-12, -4, 5), x_dir=(-1, 0, 0), z_dir=(0, 0, 1))):
        Circle(MIRROR1_AT_THE_SECOND_PLANE_COPY_28_SKET_R)
    extrude(amount=-MIRROR1_AT_THE_SECOND_PLANE_COPY_28_DEPTH, mode=Mode.SUBTRACT)

    # Mirror1 at the second plane copy 29 sket → Mirror1 at the second plane copy 29 (cut, through all)
    with BuildSketch(Plane(origin=(-16, -4, 5), x_dir=(-1, 0, 0), z_dir=(0, 0, 1))):
        Circle(MIRROR1_AT_THE_SECOND_PLANE_COPY_29_SKET_R)
    extrude(amount=-MIRROR1_AT_THE_SECOND_PLANE_COPY_29_DEPTH, mode=Mode.SUBTRACT)

    # Mirror1 at the second plane copy 30 sket → Mirror1 at the second plane copy 30 (cut, through all)
    with BuildSketch(Plane(origin=(0, -8, 5), x_dir=(-1, 0, 0), z_dir=(0, 0, 1))):
        Circle(MIRROR1_AT_THE_SECOND_PLANE_COPY_30_SKET_R)
    extrude(amount=-MIRROR1_AT_THE_SECOND_PLANE_COPY_30_DEPTH, mode=Mode.SUBTRACT)

    # Mirror1 at the second plane copy 31 sket → Mirror1 at the second plane copy 31 (cut, through all)
    with BuildSketch(Plane(origin=(-4, -8, 5), x_dir=(-1, 0, 0), z_dir=(0, 0, 1))):
        Circle(MIRROR1_AT_THE_SECOND_PLANE_COPY_31_SKET_R)
    extrude(amount=-MIRROR1_AT_THE_SECOND_PLANE_COPY_31_DEPTH, mode=Mode.SUBTRACT)

    # Mirror1 at the second plane copy 32 sket → Mirror1 at the second plane copy 32 (cut, through all)
    with BuildSketch(Plane(origin=(-8, -8, 5), x_dir=(-1, 0, 0), z_dir=(0, 0, 1))):
        Circle(MIRROR1_AT_THE_SECOND_PLANE_COPY_32_SKET_R)
    extrude(amount=-MIRROR1_AT_THE_SECOND_PLANE_COPY_32_DEPTH, mode=Mode.SUBTRACT)

    # Mirror1 at the second plane copy 33 sket → Mirror1 at the second plane copy 33 (cut, through all)
    with BuildSketch(Plane(origin=(-12, -8, 5), x_dir=(-1, 0, 0), z_dir=(0, 0, 1))):
        Circle(MIRROR1_AT_THE_SECOND_PLANE_COPY_33_SKET_R)
    extrude(amount=-MIRROR1_AT_THE_SECOND_PLANE_COPY_33_DEPTH, mode=Mode.SUBTRACT)

    # Mirror1 at the second plane copy 34 sket → Mirror1 at the second plane copy 34 (cut, through all)
    with BuildSketch(Plane(origin=(0, -12, 5), x_dir=(-1, 0, 0), z_dir=(0, 0, 1))):
        Circle(MIRROR1_AT_THE_SECOND_PLANE_COPY_34_SKET_R)
    extrude(amount=-MIRROR1_AT_THE_SECOND_PLANE_COPY_34_DEPTH, mode=Mode.SUBTRACT)

    # Mirror1 at the second plane copy 35 sket → Mirror1 at the second plane copy 35 (cut, through all)
    with BuildSketch(Plane(origin=(-4, -12, 5), x_dir=(-1, 0, 0), z_dir=(0, 0, 1))):
        Circle(MIRROR1_AT_THE_SECOND_PLANE_COPY_35_SKET_R)
    extrude(amount=-MIRROR1_AT_THE_SECOND_PLANE_COPY_35_DEPTH, mode=Mode.SUBTRACT)

    # Mirror1 at the second plane copy 36 sket → Mirror1 at the second plane copy 36 (cut, through all)
    with BuildSketch(Plane(origin=(-8, -12, 5), x_dir=(-1, 0, 0), z_dir=(0, 0, 1))):
        Circle(MIRROR1_AT_THE_SECOND_PLANE_COPY_36_SKET_R)
    extrude(amount=-MIRROR1_AT_THE_SECOND_PLANE_COPY_36_DEPTH, mode=Mode.SUBTRACT)

    # Mirror1 at the second plane copy 37 sket → Mirror1 at the second plane copy 37 (cut, through all)
    with BuildSketch(Plane(origin=(-12, -12, 5), x_dir=(-1, 0, 0), z_dir=(0, 0, 1))):
        Circle(MIRROR1_AT_THE_SECOND_PLANE_COPY_37_SKET_R)
    extrude(amount=-MIRROR1_AT_THE_SECOND_PLANE_COPY_37_DEPTH, mode=Mode.SUBTRACT)

    # Mirror1 at the second plane copy 38 sket → Mirror1 at the second plane copy 38 (cut, through all)
    with BuildSketch(Plane(origin=(0, -16, 5), x_dir=(-1, 0, 0), z_dir=(0, 0, 1))):
        Circle(MIRROR1_AT_THE_SECOND_PLANE_COPY_38_SKET_R)
    extrude(amount=-MIRROR1_AT_THE_SECOND_PLANE_COPY_38_DEPTH, mode=Mode.SUBTRACT)

    # Mirror1 at the second plane copy 39 sket → Mirror1 at the second plane copy 39 (cut, through all)
    with BuildSketch(Plane(origin=(-4, -16, 5), x_dir=(-1, 0, 0), z_dir=(0, 0, 1))):
        Circle(MIRROR1_AT_THE_SECOND_PLANE_COPY_39_SKET_R)
    extrude(amount=-MIRROR1_AT_THE_SECOND_PLANE_COPY_39_DEPTH, mode=Mode.SUBTRACT)

    # Mirror1 at the second plane copy 40 sket → Mirror1 at the second plane copy 40 (cut, through all)
    with BuildSketch(Plane(origin=(0, 0, 5), x_dir=(-1, 0, 0), z_dir=(0, 0, 1))):
        Circle(MIRROR1_AT_THE_SECOND_PLANE_COPY_40_SKET_R)
    extrude(amount=-MIRROR1_AT_THE_SECOND_PLANE_COPY_40_DEPTH, mode=Mode.SUBTRACT)

    # Mirror1 at the second plane copy 41 sket → Mirror1 at the second plane copy 41 (cut, through all)
    with BuildSketch(Plane.XY.offset(5)):
        Circle(MIRROR1_AT_THE_SECOND_PLANE_COPY_41_SKET_R)
    extrude(amount=-MIRROR1_AT_THE_SECOND_PLANE_COPY_41_DEPTH, mode=Mode.SUBTRACT)

    # Sketch16 → Boss-Extrude2 (add)
    with BuildSketch(Plane.XY.offset(5)):
        Circle(SKETCH16_R)
        Circle(SKETCH16_R_2, mode=Mode.SUBTRACT)
    extrude(amount=BOSS_EXTRUDE2_DEPTH)


solid = part.part
